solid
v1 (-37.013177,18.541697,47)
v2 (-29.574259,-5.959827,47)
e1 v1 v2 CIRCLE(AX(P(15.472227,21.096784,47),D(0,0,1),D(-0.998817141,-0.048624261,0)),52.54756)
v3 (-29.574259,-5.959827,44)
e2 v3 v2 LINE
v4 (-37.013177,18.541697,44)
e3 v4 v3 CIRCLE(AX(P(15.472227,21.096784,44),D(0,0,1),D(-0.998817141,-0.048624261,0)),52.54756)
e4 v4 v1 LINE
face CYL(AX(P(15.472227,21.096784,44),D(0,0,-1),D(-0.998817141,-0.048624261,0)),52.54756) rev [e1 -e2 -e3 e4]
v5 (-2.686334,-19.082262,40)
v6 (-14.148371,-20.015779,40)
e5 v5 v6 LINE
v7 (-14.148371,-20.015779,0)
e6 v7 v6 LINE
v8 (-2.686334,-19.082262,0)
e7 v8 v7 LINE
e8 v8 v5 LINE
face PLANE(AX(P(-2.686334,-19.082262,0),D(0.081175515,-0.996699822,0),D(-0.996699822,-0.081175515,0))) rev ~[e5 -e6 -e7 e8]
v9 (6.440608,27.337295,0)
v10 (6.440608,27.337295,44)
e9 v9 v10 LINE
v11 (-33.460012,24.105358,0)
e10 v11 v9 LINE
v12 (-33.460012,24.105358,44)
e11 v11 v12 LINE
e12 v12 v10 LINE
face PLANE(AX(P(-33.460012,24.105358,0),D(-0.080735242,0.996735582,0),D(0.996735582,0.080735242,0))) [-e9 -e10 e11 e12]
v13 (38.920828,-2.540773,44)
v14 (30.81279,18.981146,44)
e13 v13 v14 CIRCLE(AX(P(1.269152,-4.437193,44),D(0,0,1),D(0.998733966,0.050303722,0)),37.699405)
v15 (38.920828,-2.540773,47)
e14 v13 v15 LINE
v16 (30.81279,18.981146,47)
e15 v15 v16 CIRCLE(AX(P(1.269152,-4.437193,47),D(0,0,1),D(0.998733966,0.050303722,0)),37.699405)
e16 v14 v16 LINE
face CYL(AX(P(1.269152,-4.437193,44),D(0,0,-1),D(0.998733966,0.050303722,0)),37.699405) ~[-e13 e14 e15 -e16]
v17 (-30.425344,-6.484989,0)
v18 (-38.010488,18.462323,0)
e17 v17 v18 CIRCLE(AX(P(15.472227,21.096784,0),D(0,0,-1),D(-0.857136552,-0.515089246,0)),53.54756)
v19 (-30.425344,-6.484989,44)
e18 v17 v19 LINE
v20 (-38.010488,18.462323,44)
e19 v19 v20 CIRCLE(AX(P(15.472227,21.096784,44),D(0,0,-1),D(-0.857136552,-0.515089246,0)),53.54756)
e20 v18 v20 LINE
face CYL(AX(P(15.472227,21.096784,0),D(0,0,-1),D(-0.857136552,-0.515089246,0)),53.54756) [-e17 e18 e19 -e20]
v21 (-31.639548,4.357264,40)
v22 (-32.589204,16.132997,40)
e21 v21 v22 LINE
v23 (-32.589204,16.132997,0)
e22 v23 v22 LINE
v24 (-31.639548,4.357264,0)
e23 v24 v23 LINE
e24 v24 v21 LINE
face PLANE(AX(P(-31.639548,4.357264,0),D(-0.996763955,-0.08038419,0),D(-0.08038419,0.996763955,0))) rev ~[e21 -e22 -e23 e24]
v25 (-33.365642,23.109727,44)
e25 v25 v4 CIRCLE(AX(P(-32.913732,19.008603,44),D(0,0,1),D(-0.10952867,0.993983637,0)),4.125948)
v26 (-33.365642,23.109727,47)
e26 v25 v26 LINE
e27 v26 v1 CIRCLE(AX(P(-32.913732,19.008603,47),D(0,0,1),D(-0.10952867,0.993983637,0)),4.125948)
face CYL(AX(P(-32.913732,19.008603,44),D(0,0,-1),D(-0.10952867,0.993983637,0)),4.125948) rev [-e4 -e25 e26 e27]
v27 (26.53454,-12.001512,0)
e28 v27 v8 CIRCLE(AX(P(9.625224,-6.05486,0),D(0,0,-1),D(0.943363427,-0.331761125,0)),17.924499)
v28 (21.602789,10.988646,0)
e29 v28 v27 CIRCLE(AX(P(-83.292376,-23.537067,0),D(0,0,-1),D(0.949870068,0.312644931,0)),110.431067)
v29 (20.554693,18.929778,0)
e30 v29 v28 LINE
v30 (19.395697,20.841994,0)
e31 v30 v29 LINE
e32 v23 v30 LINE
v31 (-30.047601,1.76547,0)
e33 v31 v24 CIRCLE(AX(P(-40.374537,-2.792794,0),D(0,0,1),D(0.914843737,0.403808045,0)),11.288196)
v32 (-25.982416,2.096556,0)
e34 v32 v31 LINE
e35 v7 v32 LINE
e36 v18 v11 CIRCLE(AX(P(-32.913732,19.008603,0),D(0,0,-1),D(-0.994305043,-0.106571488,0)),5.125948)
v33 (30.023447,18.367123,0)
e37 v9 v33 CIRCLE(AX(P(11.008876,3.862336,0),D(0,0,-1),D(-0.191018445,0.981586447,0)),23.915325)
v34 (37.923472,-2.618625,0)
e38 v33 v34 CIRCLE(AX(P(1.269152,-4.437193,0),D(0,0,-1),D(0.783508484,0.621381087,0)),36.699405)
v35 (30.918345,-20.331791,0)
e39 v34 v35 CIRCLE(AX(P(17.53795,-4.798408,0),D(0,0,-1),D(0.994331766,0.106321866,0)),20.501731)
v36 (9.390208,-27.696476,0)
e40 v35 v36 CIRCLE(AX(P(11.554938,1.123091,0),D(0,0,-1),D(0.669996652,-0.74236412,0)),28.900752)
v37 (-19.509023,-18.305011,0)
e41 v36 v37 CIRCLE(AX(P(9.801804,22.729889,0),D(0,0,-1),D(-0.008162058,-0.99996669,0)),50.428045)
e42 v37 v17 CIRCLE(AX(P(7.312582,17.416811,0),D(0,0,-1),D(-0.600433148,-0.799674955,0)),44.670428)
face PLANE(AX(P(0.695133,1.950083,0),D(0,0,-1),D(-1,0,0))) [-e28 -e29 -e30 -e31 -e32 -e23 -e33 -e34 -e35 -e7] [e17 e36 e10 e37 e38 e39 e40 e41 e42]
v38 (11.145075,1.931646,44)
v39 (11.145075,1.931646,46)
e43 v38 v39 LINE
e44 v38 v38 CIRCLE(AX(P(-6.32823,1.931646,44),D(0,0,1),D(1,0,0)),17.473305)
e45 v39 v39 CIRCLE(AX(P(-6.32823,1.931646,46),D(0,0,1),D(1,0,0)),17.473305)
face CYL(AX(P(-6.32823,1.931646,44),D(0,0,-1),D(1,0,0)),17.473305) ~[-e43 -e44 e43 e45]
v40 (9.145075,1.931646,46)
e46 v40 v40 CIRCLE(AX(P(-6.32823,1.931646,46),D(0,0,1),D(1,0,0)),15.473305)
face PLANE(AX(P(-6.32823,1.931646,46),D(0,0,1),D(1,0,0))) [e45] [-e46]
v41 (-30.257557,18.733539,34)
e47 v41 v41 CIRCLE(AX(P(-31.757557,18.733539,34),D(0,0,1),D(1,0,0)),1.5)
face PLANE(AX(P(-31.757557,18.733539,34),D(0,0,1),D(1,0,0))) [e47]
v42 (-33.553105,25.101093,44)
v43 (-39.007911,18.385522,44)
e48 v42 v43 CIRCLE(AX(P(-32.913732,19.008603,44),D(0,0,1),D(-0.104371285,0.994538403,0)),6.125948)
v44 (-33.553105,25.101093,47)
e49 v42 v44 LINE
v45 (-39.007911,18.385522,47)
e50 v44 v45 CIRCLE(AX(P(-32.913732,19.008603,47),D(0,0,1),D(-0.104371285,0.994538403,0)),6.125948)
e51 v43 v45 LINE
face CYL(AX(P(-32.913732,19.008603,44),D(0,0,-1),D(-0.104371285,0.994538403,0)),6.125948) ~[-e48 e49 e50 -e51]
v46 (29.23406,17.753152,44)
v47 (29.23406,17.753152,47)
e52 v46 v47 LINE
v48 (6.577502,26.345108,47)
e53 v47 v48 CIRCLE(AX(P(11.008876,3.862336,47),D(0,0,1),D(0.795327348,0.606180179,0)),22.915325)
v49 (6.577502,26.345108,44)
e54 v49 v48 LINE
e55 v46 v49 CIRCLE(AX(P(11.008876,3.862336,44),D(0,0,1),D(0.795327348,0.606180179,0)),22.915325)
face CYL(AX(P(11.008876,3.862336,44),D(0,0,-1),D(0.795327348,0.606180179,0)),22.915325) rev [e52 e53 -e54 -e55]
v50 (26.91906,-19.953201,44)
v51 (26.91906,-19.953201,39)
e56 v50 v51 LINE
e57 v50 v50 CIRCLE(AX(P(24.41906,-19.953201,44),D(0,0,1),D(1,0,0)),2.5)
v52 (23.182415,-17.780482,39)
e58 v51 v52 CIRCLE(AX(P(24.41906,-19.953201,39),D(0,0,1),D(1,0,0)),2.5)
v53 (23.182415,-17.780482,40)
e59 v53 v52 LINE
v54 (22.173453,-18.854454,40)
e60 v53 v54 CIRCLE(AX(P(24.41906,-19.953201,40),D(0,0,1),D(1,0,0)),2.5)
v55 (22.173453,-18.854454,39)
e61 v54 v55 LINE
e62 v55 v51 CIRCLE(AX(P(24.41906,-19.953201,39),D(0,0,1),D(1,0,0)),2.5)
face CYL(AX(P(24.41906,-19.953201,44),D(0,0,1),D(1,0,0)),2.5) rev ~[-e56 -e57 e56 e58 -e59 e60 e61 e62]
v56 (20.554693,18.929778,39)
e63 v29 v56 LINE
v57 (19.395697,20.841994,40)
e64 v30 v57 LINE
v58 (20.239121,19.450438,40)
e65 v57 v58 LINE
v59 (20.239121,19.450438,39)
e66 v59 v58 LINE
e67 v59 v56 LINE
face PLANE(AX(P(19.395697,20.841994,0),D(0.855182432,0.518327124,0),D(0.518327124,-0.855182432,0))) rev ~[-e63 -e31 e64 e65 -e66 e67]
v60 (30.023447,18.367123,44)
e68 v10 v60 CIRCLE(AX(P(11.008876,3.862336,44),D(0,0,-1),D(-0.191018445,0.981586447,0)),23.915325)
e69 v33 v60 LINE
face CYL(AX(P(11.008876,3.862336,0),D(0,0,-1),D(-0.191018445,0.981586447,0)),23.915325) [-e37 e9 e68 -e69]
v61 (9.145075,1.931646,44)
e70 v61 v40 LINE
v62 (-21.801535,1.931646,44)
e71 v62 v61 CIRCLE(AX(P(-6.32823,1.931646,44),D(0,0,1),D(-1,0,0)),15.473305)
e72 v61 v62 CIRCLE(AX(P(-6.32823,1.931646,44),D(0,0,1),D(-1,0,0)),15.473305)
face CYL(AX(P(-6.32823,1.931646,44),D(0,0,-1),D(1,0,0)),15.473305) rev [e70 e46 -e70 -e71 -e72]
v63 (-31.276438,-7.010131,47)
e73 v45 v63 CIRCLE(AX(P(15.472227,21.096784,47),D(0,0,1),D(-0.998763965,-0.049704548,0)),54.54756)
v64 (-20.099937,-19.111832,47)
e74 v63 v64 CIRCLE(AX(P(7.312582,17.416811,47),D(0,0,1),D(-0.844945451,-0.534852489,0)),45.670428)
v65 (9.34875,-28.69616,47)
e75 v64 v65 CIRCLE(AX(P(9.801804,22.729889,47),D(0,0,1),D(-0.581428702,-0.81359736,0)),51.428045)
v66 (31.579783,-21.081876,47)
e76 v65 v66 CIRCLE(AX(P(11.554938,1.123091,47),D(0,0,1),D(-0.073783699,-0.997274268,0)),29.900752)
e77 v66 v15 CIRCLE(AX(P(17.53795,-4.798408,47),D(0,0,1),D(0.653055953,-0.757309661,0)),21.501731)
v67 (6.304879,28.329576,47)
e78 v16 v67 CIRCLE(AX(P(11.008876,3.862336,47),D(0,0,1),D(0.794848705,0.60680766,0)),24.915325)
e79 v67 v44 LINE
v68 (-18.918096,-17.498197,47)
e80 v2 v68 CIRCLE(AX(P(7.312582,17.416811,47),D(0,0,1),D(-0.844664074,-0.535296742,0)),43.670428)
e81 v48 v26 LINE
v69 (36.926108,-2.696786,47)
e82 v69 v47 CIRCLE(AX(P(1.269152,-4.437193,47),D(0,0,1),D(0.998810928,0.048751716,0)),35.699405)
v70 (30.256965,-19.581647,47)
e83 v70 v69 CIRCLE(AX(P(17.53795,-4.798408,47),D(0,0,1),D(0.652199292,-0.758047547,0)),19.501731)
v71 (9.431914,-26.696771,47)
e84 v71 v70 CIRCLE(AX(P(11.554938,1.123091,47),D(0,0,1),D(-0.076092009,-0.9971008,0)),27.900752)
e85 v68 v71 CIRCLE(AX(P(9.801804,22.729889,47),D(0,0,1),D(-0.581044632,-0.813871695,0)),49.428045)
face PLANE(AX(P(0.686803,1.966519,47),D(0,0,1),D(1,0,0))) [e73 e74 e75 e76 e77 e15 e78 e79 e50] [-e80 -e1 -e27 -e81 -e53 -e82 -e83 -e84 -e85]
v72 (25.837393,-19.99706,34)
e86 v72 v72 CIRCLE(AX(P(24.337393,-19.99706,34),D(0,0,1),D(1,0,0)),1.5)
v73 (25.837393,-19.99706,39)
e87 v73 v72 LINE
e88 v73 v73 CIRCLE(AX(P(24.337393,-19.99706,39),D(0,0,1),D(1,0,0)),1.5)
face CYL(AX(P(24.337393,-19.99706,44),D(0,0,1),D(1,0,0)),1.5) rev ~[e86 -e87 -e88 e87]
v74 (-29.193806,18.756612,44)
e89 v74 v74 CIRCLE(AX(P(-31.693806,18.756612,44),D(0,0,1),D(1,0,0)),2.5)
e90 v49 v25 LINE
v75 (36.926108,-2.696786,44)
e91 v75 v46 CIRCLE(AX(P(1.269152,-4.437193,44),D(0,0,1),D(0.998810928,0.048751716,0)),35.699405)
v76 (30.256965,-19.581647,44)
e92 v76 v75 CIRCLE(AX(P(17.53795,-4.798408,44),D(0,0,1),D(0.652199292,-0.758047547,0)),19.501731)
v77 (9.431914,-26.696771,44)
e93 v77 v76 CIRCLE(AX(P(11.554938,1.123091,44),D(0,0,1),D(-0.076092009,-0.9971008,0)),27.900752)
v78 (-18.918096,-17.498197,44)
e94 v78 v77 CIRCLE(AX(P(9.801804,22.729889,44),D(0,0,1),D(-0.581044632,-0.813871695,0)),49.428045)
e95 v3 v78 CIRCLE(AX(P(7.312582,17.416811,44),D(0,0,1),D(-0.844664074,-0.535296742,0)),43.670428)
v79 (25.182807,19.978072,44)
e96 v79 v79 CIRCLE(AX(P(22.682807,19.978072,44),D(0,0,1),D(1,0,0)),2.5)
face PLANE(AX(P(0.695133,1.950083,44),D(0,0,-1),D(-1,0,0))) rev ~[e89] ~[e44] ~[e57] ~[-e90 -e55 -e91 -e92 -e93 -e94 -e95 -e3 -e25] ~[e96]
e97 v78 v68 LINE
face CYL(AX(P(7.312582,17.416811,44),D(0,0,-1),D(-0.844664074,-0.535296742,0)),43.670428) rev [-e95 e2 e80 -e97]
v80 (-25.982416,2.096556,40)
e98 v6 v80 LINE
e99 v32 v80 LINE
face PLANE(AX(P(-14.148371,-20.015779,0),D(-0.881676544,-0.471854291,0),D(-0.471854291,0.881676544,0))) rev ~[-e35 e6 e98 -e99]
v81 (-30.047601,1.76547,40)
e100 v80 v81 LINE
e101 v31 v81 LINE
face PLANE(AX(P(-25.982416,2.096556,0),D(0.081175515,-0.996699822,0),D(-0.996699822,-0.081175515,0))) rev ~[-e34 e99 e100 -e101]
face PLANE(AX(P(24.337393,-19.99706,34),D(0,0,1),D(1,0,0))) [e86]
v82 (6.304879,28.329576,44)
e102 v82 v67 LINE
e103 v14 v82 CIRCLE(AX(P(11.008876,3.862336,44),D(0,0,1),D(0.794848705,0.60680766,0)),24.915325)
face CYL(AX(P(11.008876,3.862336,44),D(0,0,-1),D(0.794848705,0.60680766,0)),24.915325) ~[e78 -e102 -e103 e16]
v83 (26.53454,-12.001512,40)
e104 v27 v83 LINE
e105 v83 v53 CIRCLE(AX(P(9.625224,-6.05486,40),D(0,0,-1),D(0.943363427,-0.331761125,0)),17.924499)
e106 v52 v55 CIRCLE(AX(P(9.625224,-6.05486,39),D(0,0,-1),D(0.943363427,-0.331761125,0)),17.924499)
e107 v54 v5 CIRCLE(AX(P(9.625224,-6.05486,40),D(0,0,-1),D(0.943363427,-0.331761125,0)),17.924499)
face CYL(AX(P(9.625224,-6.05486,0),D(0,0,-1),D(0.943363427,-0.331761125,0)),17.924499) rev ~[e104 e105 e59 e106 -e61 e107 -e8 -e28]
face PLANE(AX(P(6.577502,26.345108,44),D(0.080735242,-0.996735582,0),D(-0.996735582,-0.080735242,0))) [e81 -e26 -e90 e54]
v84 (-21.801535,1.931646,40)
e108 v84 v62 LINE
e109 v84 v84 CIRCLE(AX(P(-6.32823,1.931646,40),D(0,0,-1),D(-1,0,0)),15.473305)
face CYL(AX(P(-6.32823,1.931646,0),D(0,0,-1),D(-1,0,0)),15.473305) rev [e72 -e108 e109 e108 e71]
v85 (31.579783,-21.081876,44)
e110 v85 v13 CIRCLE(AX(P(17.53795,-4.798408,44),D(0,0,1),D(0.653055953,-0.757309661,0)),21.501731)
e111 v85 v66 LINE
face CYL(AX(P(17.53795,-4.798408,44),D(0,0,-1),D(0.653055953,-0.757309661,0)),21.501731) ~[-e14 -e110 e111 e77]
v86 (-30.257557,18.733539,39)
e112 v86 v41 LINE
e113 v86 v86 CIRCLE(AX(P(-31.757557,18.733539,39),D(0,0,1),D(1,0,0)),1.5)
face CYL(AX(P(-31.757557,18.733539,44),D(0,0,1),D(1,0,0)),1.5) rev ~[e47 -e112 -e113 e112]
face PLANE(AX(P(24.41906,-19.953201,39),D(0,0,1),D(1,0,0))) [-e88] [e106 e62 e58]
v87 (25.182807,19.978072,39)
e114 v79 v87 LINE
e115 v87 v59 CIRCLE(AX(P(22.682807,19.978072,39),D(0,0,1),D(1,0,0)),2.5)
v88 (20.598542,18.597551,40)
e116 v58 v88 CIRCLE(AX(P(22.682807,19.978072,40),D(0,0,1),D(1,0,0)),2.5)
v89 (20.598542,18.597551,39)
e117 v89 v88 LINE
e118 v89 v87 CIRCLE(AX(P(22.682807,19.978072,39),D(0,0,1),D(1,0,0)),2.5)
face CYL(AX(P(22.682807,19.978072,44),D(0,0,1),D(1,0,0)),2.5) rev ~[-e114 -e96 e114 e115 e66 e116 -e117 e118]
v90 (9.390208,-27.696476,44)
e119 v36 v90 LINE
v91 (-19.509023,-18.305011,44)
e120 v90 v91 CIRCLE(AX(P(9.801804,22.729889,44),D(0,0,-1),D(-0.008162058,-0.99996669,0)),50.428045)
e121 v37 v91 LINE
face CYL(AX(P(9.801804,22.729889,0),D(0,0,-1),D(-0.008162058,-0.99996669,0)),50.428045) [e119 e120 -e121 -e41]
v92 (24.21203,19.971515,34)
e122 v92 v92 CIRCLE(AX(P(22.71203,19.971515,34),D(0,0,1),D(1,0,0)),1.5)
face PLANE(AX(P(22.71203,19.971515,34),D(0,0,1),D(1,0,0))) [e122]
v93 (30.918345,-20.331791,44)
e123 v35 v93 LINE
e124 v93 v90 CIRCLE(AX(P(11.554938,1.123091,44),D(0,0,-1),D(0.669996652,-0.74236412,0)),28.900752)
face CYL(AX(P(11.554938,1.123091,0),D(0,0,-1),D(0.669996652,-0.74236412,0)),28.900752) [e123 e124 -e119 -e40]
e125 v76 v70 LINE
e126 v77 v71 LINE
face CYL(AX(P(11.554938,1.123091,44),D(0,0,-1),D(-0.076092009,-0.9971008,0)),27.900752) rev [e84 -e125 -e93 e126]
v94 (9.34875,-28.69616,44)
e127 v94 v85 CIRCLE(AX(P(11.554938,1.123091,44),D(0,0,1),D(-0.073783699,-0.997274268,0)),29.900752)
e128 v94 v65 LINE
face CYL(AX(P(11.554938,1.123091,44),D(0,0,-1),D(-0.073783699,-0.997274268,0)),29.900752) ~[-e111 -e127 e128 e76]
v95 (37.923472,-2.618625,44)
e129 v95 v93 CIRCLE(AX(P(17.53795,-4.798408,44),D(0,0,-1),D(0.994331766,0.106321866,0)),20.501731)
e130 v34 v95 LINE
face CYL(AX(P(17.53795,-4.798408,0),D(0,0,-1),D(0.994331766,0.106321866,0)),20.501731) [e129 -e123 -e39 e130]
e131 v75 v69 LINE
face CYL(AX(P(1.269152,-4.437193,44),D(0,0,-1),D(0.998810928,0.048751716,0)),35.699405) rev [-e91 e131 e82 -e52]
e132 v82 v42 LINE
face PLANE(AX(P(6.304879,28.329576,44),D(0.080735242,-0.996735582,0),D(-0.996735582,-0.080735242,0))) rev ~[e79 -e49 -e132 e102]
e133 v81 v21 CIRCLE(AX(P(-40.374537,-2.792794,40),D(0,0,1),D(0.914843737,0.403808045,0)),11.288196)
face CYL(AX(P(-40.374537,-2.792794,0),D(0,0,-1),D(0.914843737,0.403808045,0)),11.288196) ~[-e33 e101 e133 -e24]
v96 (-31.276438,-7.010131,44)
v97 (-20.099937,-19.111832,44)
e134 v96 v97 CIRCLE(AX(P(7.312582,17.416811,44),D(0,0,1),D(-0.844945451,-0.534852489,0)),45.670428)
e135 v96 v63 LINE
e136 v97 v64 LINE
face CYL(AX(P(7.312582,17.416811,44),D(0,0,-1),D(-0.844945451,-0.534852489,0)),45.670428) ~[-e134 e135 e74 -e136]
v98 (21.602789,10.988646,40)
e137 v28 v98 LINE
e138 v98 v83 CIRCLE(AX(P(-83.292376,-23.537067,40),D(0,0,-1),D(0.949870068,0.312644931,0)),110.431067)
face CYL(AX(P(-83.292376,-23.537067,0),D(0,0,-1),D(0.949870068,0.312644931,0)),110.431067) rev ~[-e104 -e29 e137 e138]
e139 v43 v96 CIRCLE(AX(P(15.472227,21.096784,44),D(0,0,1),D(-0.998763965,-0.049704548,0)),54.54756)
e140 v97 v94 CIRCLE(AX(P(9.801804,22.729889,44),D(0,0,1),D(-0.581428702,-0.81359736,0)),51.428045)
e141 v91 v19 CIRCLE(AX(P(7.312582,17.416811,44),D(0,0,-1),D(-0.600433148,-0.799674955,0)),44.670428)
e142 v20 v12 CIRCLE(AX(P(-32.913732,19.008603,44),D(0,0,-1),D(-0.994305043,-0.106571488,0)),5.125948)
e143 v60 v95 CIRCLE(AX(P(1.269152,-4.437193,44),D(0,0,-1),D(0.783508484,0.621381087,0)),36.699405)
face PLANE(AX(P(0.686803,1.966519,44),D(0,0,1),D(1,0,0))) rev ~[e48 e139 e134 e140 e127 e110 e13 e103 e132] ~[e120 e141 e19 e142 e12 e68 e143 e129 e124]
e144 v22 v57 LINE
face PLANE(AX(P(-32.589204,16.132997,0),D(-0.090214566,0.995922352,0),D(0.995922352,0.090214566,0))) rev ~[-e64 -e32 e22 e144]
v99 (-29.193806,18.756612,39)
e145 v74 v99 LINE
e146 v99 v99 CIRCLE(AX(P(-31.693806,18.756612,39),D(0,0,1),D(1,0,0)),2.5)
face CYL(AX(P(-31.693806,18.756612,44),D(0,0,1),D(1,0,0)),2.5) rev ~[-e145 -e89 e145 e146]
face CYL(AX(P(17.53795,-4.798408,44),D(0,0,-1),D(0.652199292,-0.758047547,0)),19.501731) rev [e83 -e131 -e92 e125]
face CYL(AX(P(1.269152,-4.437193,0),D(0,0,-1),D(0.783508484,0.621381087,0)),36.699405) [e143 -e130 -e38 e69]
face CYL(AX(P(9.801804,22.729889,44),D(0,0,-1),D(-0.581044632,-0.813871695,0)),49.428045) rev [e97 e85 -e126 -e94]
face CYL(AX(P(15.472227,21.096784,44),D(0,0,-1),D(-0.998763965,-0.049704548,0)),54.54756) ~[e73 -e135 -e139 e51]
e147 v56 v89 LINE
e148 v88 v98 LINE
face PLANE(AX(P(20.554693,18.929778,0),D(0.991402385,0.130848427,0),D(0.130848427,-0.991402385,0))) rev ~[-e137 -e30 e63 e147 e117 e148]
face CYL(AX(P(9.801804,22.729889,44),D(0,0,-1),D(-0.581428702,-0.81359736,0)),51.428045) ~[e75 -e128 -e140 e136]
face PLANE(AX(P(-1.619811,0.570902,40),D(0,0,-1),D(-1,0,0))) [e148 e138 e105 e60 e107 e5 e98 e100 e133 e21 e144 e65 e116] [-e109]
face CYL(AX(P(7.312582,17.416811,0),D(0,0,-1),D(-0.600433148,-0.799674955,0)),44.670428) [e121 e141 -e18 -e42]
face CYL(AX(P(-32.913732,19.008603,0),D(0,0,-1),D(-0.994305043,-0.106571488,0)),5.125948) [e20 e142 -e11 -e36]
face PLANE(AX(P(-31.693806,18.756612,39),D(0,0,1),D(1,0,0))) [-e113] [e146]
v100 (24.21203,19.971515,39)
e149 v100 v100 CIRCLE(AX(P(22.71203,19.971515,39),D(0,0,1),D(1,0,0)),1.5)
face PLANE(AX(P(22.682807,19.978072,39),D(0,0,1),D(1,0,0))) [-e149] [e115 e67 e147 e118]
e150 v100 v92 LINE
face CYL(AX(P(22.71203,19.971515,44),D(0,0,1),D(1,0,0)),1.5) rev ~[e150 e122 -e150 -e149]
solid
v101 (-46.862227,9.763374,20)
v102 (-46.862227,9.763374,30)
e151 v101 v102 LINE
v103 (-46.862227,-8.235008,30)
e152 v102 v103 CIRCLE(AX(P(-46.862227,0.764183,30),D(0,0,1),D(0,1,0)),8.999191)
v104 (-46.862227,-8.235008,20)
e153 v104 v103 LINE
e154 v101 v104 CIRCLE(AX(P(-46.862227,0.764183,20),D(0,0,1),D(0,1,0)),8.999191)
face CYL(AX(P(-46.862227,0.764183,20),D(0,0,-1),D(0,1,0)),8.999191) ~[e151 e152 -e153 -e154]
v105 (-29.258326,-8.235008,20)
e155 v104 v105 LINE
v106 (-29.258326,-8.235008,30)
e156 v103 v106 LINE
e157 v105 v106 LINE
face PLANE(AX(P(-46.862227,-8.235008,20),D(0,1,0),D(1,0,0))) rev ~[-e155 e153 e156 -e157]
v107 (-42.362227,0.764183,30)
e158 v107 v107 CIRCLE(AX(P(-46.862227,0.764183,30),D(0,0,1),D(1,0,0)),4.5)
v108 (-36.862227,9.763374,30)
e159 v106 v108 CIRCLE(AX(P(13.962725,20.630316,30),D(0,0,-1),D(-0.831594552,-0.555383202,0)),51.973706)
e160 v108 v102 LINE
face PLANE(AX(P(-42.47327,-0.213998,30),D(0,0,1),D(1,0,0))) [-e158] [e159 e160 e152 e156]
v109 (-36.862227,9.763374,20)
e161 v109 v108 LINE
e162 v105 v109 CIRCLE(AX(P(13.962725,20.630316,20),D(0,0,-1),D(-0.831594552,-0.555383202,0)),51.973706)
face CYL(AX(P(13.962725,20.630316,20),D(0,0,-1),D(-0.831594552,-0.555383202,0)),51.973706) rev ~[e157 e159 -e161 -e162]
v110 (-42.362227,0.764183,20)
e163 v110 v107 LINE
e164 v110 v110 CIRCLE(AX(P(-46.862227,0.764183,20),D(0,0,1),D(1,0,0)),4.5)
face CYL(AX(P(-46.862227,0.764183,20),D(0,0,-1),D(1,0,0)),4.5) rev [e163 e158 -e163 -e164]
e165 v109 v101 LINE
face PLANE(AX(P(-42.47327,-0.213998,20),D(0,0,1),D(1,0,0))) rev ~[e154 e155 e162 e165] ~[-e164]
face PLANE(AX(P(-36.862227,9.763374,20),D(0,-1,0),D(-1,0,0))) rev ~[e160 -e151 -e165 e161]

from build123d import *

# Parameters (mm, degrees)
SKETCH1_R           = 15.473305228
BOSS_EXTRUDE1_DEPTH = 44
CUT_EXTRUDE1_DEPTH  = 40
SKETCH11_R          = 2.5
CUT_EXTRUDE5_DEPTH  = 5
SKETCH13_R          = 1.5
CUT_EXTRUDE6_DEPTH  = 10
EXTRUDE_THIN1_DEPTH = 3
SKETCH15_R          = 17.473305228
SKETCH15_R_2        = 15.473305228
EXTRUDE_THIN2_DEPTH = 2
SKETCH16_R          = 4.5
BOSS_EXTRUDE3_DEPTH = 10


with BuildPart() as part:
    # Sketch1 → Boss-Extrude1 (new body)
    with BuildSketch(Plane.XY):
        with BuildLine():
            Line((-33.460012183, 24.105358493), (6.44060775, 27.337295096))
            ThreePointArc((6.44060775, 27.337295096), (19.511223581, 26.215252174), (30.02344729, 18.367123019))
            ThreePointArc((30.02344729, 18.367123019), (35.615507496, 8.492393106), (37.923471704, -2.618625272))
            ThreePointArc((37.923471704, -2.618625272), (36.602926602, -12.338143221), (30.918344751, -20.331790555))
            ThreePointArc((30.918344751, -20.331790555), (20.90952312, -26.221839229), (9.390207544, -27.696475614))
            ThreePointArc((9.390207544, -27.696475614), (-5.783622527, -25.229282546), (-19.509023413, -18.30501138))
            ThreePointArc((-19.509023413, -18.30501138), (-25.50374799, -12.890541162), (-30.425344214, -6.484988797))
            ThreePointArc((-30.425344214, -6.484988797), (-35.759622679, 5.519916373), (-38.010488257, 18.462322604))
            ThreePointArc((-38.010488257, 18.462322604), (-36.903961219, 22.226275001), (-33.460012183, 24.105358493))
        make_face()
        with Locations(Location((-6.328229734, 1.931646276, 0), (0, 0, 180))):
            Circle(SKETCH1_R, mode=Mode.SUBTRACT)
    extrude(amount=BOSS_EXTRUDE1_DEPTH)

    # Sketch2 → Cut-Extrude1 (cut)
    with BuildSketch(Plane(origin=(0, 0, 0), x_dir=(-1, 0, 0), z_dir=(0, 0, -1))):
        with BuildLine():
            Line((32.589203678, 16.132996937), (-19.395696883, 20.841993812))
            Line((-19.395696883, 20.841993812), (-20.554693465, 18.929777625))
            Line((-20.554693465, 18.929777625), (-21.602789168, 10.988646033))
            ThreePointArc((-21.602789168, 10.988646033), (-24.682296454, -0.374799149), (-26.534540168, -12.001511701))
            ThreePointArc((-26.534540168, -12.001511701), (-13.846491261, -23.475208696), (2.686334367, -19.082261559))
            Line((2.686334367, -19.082261559), (14.1483705, -20.015779015))
            Line((14.1483705, -20.015779015), (25.98241591, 2.09655619))
            Line((25.98241591, 2.09655619), (30.047601379, 1.765470024))
            ThreePointArc((30.047601379, 1.765470024), (30.755878379, 3.115232347), (31.639547807, 4.357264141))
            Line((31.639547807, 4.357264141), (32.589203678, 16.132996937))
        make_face()
    extrude(amount=-CUT_EXTRUDE1_DEPTH, mode=Mode.SUBTRACT)

    # Sketch11 → Cut-Extrude5 (cut)
    with BuildSketch(Plane.XY.offset(44)):
        with Locations((22.682806968, 19.978071842)):
            Circle(SKETCH11_R)
        with Locations((-31.693806202, 18.756611951)):
            Circle(SKETCH11_R)
        with Locations((24.419060413, -19.953201173)):
            Circle(SKETCH11_R)
    extrude(amount=-CUT_EXTRUDE5_DEPTH, mode=Mode.SUBTRACT)

    # Sketch13 → Cut-Extrude6 (cut)
    with BuildSketch(Plane.XY.offset(44)):
        with Locations((-31.757557343, 18.733539273)):
            Circle(SKETCH13_R)
        with Locations((22.712029929, 19.97151531)):
            Circle(SKETCH13_R)
        with Locations((24.337392738, -19.997060426)):
            Circle(SKETCH13_R)
    extrude(amount=-CUT_EXTRUDE6_DEPTH, mode=Mode.SUBTRACT)

    # Sketch14 → Extrude-Thin1 (add)
    with BuildSketch(Plane.XY.offset(44)):
        with BuildLine():
            ThreePointArc((-39.007910632, 18.385521852), (-36.710647786, 5.210188188), (-31.276438105, -7.010130911))
            ThreePointArc((-31.276438105, -7.010130911), (-26.238328339, -13.569062876), (-20.099937032, -19.111832102))
            ThreePointArc((-20.099937032, -19.111832102), (-6.114170153, -26.173336976), (9.348749737, -28.696159753))
            ThreePointArc((9.348749737, -28.696159753), (21.243614885, -27.164441879), (31.579782842, -21.081875933))
            ThreePointArc((31.579782842, -21.081875933), (37.52971495, -12.713819205), (38.920828499, -2.540773025))
            ThreePointArc((38.920828499, -2.540773025), (36.548052351, 8.853568184), (30.812789557, 18.981146321))
            ThreePointArc((30.812789557, 18.981146321), (19.88863716, 27.141581431), (6.304879392, 28.329576255))
            Line((6.304879392, 28.329576255), (-33.553105346, 25.101093087))
            ThreePointArc((-33.553105346, 25.101093087), (-37.668719443, 22.870899287), (-39.007910632, 18.385521852))
        make_face()
        with BuildLine():
            ThreePointArc((-37.013176969, 18.541697373), (-34.808968071, 5.830889726), (-29.574259358, -5.959826648))
            ThreePointArc((-29.574259358, -5.959826648), (-24.769169875, -12.212017029), (-18.918095758, -17.498197235))
            ThreePointArc((-18.918095758, -17.498197235), (-5.452946572, -24.28525911), (9.431913531, -26.696771337))
            ThreePointArc((9.431913531, -26.696771337), (20.575585264, -25.27917956), (30.256964564, -19.581646671))
            ThreePointArc((30.256964564, -19.581646671), (35.676093796, -11.962570151), (36.926108056, -2.696786157))
            ThreePointArc((36.926108056, -2.696786157), (34.683002453, 8.131105233), (29.234060411, 17.753152069))
            ThreePointArc((29.234060411, 17.753152069), (19.134313202, 25.288707505), (6.577502037, 26.345108378))
            Line((6.577502037, 26.345108378), (-33.365641877, 23.109727346))
            ThreePointArc((-33.365641877, 23.109727346), (-36.137926894, 21.58309591), (-37.013176969, 18.541697373))
        make_face(mode=Mode.SUBTRACT)
    extrude(amount=EXTRUDE_THIN1_DEPTH)

    # Sketch15 → Extrude-Thin2 (add)
    with BuildSketch(Plane.XY.offset(44)):
        with Locations((-6.328229734, 1.931646276)):
            Circle(SKETCH15_R)
        with Locations((-6.328229734, 1.931646276)):
            Circle(SKETCH15_R_2, mode=Mode.SUBTRACT)
    extrude(amount=EXTRUDE_THIN2_DEPTH)


with BuildPart() as body_2:
    # Sketch16 → Boss-Extrude3 (new body)
    with BuildSketch(Plane.XY.offset(20)):
        with BuildLine():
            Line((-36.862226699, 9.763374101), (-46.862226699, 9.763374101))
            ThreePointArc((-46.862226699, 9.763374101), (-55.861417589, 0.764183211), (-46.862226699, -8.235007679))
            Line((-46.862226699, -8.235007679), (-29.258325932, -8.235007679))
            ThreePointArc((-29.258325932, -8.235007679), (-33.913658423, 0.403648973), (-36.862226699, 9.763374101))
        make_face()
        with Locations((-46.862226699, 0.764183211)):
            Circle(SKETCH16_R, mode=Mode.SUBTRACT)
    extrude(amount=BOSS_EXTRUDE3_DEPTH)


solid = Compound([part.part, body_2.part])
